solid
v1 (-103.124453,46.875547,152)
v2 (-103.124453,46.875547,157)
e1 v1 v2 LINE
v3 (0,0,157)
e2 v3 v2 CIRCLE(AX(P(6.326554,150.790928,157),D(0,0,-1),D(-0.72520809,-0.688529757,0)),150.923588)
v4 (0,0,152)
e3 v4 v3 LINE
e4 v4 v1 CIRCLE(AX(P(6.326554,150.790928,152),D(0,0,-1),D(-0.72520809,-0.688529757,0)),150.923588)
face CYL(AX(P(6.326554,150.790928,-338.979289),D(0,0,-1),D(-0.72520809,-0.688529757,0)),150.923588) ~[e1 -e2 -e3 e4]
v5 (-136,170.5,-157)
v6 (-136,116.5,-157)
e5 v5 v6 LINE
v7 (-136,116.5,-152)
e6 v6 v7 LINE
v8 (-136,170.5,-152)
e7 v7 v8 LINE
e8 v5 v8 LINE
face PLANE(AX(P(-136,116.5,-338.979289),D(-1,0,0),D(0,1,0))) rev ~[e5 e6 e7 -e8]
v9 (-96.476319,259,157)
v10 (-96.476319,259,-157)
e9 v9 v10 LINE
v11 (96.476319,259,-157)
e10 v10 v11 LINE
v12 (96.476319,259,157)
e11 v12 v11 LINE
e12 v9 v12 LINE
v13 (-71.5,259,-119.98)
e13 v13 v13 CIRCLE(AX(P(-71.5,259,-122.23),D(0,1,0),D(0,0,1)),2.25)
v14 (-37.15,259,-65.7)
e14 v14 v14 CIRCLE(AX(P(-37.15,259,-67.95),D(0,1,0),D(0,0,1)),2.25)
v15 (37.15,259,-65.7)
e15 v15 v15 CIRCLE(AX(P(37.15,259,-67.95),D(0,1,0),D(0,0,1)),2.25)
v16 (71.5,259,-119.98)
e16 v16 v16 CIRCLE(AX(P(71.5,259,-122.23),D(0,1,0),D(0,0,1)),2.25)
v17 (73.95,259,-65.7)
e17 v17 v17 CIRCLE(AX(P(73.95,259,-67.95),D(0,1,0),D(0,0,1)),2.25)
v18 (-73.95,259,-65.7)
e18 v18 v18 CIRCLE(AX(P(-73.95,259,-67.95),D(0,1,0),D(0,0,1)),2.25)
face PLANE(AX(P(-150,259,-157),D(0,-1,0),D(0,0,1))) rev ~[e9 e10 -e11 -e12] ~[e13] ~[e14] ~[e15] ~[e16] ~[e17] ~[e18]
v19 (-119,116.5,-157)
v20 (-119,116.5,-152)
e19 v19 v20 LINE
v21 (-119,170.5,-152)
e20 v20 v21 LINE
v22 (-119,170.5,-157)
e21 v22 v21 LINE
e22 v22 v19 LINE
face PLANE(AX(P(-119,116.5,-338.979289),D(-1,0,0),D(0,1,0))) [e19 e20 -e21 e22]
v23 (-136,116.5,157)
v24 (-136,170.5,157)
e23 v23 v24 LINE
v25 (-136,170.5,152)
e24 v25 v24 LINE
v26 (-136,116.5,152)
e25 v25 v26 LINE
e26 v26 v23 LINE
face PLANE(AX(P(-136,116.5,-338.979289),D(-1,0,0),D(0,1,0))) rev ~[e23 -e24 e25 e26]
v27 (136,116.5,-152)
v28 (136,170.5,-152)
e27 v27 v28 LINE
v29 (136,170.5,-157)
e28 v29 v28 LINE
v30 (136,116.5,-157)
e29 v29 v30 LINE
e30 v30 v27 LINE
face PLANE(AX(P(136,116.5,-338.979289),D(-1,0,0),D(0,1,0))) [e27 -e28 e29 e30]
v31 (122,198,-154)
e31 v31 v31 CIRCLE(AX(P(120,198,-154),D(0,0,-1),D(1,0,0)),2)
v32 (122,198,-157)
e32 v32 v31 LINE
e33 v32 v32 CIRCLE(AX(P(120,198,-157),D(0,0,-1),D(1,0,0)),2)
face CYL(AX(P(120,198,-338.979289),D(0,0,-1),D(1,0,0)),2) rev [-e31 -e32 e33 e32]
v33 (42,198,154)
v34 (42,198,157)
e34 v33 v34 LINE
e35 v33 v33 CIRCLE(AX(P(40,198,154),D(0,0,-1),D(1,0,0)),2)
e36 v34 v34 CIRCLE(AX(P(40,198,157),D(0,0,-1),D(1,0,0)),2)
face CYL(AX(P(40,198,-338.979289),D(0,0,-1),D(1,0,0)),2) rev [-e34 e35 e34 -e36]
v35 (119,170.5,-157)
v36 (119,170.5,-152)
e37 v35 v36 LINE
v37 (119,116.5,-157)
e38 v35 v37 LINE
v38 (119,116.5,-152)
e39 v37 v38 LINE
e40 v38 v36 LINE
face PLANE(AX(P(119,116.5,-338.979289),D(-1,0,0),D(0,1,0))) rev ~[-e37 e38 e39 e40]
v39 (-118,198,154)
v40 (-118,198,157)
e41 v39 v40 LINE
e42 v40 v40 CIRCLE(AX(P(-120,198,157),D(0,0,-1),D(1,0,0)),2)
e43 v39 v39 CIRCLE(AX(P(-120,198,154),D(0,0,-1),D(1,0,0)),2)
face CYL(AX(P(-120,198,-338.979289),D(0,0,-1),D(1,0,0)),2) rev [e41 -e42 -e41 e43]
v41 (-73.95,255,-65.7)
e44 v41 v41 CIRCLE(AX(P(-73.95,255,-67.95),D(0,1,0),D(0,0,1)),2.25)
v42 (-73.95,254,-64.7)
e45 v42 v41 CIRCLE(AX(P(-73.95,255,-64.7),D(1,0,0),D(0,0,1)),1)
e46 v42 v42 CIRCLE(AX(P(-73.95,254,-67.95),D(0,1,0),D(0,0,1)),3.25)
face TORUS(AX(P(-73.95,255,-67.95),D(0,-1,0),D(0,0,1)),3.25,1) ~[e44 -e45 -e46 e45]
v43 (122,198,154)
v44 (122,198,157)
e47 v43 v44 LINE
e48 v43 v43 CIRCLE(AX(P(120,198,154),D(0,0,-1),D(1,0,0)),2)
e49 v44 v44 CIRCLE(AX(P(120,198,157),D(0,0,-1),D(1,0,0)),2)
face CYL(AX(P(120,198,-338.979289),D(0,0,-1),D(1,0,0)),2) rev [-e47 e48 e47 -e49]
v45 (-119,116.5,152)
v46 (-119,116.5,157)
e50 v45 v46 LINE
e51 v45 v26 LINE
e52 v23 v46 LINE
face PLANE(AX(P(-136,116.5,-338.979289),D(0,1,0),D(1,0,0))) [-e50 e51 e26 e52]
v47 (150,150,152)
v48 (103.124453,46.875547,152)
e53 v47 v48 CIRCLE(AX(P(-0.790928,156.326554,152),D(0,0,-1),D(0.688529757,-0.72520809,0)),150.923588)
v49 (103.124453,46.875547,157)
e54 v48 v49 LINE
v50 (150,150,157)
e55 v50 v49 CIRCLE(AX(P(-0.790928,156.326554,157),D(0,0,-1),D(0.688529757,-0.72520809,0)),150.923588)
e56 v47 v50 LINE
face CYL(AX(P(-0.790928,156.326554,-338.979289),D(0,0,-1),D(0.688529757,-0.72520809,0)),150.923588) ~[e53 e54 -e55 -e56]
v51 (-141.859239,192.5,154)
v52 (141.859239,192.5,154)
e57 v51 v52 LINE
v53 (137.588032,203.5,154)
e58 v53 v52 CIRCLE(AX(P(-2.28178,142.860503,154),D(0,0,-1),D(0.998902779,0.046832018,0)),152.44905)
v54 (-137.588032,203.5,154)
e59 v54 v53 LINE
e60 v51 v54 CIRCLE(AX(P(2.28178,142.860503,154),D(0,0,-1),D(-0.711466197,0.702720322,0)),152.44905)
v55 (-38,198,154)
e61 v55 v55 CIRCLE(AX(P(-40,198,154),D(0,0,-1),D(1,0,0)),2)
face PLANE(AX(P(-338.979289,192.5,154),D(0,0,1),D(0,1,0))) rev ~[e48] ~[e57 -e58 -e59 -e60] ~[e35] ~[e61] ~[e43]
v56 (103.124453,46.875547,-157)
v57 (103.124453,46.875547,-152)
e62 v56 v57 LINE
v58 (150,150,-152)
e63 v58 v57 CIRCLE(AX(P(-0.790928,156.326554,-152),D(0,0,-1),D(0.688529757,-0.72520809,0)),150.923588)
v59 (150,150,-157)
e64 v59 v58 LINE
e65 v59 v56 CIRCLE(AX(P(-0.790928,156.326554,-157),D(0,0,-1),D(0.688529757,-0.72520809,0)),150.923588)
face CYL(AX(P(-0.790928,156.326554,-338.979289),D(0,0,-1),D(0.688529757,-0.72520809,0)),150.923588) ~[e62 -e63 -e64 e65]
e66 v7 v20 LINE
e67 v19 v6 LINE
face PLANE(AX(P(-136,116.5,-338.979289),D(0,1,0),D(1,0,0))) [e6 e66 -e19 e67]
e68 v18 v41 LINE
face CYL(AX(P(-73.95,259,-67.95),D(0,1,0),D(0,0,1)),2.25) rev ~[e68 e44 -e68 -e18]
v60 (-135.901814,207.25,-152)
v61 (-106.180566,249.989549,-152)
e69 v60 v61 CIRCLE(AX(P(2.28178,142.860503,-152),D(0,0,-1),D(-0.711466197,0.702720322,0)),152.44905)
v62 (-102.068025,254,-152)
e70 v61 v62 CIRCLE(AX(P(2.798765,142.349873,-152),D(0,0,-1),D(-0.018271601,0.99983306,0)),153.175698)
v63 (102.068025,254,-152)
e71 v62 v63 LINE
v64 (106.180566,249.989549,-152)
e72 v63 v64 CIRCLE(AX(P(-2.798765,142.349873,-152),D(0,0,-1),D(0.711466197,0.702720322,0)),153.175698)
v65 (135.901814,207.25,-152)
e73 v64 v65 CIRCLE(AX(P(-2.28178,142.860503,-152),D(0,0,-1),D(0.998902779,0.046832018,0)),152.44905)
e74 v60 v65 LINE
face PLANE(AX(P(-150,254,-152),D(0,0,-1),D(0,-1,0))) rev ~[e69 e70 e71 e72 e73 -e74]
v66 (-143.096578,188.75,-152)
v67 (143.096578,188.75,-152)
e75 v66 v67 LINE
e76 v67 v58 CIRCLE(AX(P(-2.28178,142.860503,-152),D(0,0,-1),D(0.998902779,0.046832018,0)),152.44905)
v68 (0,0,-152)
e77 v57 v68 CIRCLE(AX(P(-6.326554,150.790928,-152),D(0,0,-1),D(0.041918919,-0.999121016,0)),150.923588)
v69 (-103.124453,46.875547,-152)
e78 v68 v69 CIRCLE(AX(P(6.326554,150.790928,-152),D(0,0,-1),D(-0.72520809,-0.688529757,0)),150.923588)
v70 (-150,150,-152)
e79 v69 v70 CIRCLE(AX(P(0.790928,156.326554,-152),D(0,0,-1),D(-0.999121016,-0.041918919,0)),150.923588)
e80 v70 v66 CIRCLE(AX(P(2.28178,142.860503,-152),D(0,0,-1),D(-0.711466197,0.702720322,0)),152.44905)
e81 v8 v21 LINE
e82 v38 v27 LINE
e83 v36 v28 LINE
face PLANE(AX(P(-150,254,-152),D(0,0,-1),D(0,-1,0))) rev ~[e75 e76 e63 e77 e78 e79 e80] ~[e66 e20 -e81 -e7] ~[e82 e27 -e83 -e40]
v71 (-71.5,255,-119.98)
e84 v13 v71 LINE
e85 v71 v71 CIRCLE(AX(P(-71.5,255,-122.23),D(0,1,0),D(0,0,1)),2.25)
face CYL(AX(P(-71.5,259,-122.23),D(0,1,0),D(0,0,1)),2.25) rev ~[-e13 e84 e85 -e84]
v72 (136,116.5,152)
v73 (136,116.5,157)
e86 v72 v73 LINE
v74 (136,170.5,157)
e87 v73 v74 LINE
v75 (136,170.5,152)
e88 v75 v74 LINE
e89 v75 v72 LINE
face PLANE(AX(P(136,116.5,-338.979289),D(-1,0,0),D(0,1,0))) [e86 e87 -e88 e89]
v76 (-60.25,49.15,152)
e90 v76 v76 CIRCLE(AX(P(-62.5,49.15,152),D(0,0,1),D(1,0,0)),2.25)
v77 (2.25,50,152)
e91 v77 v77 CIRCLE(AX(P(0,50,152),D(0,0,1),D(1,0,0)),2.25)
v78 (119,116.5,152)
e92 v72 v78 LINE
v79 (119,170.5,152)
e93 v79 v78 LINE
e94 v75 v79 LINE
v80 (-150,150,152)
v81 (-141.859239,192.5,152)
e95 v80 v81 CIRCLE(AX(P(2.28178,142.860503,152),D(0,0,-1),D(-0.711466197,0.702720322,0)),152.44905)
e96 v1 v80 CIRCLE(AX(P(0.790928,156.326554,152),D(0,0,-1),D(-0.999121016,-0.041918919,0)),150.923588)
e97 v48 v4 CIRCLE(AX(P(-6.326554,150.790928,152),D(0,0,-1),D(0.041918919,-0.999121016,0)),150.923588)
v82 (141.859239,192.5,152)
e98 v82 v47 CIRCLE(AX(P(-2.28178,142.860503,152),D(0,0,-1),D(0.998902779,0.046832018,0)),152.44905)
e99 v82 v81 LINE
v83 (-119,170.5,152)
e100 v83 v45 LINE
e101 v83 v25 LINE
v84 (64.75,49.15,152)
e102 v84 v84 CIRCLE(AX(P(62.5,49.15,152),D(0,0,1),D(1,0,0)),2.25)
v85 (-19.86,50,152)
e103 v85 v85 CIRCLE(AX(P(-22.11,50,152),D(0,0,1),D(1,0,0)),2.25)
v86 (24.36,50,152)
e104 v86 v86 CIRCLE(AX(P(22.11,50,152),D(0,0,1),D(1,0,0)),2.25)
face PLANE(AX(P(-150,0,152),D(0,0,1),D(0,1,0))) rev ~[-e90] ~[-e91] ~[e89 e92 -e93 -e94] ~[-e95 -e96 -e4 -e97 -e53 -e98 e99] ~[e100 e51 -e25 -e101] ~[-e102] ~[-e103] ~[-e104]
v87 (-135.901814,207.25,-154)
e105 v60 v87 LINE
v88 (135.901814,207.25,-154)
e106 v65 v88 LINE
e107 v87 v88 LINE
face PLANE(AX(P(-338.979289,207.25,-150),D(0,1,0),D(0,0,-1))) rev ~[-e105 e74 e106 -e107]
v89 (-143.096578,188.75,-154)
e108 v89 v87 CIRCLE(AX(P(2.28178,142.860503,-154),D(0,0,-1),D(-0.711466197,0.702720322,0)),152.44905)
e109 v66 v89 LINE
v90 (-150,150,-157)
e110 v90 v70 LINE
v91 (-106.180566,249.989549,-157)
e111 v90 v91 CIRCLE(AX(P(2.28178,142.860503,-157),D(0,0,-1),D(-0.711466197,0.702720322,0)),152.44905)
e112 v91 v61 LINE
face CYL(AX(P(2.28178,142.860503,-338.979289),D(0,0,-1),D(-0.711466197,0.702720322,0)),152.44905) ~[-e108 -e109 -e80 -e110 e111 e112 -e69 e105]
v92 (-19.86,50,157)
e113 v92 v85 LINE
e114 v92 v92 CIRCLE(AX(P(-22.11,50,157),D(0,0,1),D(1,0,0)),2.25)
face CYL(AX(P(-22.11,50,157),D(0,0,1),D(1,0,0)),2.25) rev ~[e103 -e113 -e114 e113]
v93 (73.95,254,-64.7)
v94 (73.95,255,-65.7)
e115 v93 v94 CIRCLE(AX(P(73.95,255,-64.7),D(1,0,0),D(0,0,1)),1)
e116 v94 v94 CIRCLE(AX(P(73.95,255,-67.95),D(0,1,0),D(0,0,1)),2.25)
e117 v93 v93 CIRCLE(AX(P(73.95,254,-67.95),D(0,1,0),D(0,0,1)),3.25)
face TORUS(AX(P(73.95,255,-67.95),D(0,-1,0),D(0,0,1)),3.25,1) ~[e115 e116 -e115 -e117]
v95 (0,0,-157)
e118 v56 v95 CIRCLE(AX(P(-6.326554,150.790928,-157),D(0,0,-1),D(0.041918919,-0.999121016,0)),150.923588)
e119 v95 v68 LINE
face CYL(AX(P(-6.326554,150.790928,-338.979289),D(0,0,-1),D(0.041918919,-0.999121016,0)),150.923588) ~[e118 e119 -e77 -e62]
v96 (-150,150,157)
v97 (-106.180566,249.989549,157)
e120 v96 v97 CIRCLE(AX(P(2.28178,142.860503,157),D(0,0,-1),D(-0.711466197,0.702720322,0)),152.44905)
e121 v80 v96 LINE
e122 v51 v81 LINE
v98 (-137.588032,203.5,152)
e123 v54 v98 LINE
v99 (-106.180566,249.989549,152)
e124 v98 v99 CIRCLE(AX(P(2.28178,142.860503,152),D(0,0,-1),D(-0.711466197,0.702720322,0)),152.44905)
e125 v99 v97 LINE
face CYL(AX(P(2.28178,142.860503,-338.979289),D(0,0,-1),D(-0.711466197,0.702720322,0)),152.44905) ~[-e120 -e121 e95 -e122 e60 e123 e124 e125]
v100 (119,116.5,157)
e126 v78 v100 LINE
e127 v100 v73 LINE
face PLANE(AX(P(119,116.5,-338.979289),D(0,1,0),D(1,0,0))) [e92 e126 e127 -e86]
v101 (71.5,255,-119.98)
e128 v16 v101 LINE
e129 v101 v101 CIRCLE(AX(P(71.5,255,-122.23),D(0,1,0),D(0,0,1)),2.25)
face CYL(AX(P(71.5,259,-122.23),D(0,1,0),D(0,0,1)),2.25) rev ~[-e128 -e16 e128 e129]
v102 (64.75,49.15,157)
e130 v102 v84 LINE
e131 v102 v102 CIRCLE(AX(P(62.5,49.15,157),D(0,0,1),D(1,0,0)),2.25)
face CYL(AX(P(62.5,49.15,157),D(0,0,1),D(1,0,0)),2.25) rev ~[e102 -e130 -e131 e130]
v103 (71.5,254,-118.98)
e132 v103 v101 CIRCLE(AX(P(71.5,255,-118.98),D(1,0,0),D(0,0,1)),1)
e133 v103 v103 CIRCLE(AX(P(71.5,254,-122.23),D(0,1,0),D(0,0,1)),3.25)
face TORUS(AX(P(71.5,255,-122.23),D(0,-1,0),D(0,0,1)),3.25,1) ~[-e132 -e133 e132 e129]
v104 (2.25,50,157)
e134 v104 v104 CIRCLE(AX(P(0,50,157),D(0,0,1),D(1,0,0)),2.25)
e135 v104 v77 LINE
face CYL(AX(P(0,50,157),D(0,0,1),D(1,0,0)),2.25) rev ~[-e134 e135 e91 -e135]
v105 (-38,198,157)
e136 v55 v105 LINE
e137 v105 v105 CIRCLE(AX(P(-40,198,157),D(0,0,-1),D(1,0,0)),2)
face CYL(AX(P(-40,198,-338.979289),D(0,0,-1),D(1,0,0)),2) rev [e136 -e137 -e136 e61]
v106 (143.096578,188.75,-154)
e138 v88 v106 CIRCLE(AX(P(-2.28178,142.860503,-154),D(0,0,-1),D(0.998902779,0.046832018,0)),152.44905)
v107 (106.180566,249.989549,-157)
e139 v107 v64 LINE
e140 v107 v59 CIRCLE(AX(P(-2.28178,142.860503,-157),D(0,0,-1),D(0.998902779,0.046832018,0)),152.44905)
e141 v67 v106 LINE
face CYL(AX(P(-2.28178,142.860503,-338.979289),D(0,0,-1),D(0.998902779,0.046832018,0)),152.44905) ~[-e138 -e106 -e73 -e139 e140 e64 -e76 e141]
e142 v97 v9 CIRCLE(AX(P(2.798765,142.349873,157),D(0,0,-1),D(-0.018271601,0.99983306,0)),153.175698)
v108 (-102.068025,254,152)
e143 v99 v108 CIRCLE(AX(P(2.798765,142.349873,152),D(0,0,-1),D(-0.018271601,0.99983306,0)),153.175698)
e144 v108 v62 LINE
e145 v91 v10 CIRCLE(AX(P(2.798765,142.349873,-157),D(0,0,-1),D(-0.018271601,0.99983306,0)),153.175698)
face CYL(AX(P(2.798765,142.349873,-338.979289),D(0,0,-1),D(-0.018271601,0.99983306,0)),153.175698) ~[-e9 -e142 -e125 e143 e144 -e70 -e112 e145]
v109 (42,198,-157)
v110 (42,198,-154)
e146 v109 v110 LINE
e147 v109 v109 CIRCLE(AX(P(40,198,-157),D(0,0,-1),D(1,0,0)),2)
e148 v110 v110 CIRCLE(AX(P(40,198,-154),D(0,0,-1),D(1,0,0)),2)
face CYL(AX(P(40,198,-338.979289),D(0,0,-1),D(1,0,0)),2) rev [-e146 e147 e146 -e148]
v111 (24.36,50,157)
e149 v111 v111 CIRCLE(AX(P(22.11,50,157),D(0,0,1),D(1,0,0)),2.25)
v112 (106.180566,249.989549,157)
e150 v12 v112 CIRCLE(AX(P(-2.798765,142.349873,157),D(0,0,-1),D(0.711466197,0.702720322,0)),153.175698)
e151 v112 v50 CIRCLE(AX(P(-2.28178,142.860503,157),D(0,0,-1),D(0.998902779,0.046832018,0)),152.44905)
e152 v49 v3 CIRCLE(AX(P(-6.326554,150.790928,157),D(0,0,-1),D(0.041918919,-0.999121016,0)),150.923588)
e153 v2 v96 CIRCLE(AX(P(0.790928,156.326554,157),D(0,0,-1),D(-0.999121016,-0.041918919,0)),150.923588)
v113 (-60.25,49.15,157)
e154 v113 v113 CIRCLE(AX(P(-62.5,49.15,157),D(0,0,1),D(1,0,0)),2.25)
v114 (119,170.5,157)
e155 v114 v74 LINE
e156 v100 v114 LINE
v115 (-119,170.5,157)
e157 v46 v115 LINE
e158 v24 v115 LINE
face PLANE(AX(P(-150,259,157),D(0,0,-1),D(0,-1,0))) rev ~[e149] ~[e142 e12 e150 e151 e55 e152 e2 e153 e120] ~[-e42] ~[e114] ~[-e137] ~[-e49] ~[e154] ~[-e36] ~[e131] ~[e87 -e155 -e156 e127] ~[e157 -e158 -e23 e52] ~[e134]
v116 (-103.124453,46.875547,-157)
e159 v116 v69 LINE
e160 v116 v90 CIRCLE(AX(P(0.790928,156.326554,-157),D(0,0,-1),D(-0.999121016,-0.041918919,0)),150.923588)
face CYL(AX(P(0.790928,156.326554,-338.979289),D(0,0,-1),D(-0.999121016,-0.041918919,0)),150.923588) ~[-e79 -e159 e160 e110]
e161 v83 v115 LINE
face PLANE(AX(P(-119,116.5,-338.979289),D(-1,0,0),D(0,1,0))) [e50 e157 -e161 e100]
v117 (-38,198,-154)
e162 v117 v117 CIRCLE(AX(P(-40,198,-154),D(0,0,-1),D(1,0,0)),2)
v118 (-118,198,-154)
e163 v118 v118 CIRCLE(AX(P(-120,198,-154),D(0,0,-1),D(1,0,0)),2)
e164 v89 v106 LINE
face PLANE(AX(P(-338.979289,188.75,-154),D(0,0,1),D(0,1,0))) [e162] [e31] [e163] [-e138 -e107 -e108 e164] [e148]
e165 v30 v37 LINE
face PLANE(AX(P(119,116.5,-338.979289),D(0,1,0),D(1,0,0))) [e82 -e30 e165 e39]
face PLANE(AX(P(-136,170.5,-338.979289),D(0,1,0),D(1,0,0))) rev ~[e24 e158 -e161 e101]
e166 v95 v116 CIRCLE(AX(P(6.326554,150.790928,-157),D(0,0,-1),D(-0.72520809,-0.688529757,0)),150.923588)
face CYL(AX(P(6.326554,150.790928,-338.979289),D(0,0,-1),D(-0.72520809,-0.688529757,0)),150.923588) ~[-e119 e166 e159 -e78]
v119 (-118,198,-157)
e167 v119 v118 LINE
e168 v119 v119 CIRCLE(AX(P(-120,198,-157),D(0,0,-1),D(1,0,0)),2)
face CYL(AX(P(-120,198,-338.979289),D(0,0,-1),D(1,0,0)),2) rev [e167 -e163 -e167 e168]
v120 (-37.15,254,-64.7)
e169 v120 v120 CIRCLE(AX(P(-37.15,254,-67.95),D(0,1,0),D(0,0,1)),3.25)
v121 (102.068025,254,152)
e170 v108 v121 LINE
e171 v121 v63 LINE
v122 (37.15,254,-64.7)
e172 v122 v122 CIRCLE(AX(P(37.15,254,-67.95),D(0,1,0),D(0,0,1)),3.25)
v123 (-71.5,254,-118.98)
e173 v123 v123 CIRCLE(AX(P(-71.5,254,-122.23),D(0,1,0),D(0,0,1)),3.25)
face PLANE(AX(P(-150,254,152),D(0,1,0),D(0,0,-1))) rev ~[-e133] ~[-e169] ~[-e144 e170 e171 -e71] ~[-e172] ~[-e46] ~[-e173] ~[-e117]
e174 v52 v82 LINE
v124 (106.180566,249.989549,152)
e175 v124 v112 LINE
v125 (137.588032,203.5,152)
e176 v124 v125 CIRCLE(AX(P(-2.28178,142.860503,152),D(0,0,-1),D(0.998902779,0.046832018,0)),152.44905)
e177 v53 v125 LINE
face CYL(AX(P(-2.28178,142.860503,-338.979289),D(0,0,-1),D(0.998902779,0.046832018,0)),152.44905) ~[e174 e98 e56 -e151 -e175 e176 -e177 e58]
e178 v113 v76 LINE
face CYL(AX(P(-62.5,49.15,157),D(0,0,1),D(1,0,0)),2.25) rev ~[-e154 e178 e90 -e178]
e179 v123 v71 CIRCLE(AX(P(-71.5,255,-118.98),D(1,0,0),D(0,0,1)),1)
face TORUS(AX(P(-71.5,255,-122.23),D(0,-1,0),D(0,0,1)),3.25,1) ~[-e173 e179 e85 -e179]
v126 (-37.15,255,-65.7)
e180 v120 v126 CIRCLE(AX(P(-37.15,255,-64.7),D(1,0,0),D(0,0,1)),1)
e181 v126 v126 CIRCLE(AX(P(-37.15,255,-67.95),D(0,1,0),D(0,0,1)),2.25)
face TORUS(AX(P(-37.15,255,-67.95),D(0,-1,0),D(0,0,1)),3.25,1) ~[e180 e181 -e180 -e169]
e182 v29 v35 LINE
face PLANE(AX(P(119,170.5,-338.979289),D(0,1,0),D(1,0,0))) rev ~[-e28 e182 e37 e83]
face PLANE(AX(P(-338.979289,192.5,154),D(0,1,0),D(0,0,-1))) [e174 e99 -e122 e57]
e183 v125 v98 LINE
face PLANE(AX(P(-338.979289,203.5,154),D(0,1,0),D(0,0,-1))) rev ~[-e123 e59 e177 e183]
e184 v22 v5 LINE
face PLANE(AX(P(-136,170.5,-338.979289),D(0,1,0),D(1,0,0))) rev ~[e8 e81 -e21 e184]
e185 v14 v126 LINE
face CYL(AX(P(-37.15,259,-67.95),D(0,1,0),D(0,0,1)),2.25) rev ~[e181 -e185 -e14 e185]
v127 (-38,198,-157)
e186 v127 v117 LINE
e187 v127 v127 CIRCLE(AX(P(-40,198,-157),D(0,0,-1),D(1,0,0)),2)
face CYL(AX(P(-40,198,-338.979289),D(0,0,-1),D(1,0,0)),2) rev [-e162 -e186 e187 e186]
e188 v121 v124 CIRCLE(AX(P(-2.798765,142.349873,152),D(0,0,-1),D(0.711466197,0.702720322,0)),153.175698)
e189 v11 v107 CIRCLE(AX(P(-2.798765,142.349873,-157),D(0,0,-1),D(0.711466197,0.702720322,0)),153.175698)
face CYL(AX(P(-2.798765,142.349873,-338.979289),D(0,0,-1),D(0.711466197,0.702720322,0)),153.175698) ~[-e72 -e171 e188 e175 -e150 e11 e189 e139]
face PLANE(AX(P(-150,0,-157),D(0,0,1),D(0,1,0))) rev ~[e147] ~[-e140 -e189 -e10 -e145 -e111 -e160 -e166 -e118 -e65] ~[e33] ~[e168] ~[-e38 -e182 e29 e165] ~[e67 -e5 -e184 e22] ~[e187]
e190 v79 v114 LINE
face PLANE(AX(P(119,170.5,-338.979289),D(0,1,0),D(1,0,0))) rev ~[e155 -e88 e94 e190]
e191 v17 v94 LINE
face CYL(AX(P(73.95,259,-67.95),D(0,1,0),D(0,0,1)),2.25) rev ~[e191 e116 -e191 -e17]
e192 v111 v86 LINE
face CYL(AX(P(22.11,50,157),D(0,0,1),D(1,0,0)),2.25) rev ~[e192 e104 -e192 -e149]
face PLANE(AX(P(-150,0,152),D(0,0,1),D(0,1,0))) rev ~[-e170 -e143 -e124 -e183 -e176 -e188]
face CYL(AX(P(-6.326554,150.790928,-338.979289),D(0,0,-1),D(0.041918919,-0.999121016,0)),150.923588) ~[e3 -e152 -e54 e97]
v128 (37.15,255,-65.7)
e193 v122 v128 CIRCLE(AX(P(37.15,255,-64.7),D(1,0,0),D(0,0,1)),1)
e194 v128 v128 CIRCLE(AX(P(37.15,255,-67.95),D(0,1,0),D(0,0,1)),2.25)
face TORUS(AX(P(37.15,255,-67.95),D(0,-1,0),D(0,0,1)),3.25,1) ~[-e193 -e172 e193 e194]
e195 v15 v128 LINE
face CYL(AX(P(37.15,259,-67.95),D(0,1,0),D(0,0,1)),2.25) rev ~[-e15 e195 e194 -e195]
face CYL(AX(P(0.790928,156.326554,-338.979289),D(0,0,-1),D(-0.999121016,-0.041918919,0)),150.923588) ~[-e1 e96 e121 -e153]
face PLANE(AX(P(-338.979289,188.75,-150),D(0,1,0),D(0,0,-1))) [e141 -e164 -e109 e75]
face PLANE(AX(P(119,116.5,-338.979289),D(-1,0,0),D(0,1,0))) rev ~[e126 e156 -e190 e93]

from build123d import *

# Parameters (mm, degrees)
BOSS_EXTRUDE1_DEPTH      = 150
BOSS_EXTRUDE1_DEPTH_BACK = 150
CUT_EXTRUDE1_DEPTH       = 338.979289306
CUT_EXTRUDE1_DEPTH_BACK  = 338.979289306
SKETCH2_OUTSIDE_W        = 403.13
SKETCH2_OUTSIDE_H        = 362.13
CUT_EXTRUDE2_DEPTH       = 338.979289306
CUT_EXTRUDE2_DEPTH_BACK  = 338.979289306
SKETCH3_W                = 4
SKETCH3_H                = 11
SKETCH3_H_2              = 18.5
CUT_EXTRUDE3_DEPTH       = 338.979289306
CUT_EXTRUDE3_DEPTH_BACK  = 338.979289306
SKETCH4_R                = 2
CUT_EXTRUDE4_DEPTH       = 338.979289306
CUT_EXTRUDE4_DEPTH_BACK  = 338.979289306
SKETCH6_W                = 17
SKETCH6_H                = 54
CUT_EXTRUDE5_REACH       = 435.794
SKETCH7_R                = 2.25
CUT_EXTRUDE6_REACH       = 339.979
SKETCH8_R                = 2.25
FILLET1_R                = 1


with BuildPart() as part:
    # Sketch1 → Boss-Extrude1 (new, two sides: drawn at the far end of the back side and taken through both)
    with BuildSketch(Plane(origin=(0, 0, 0), x_dir=(0, 0, -1), z_dir=(1, 0, 0)).offset(-BOSS_EXTRUDE1_DEPTH_BACK)):
        Polygon((-152, 0), (-152, 254), (152, 254), (152, 0), (157, 0), (157, 259), (-157, 259), (-157, 0), align=None)
    extrude(amount=BOSS_EXTRUDE1_DEPTH + BOSS_EXTRUDE1_DEPTH_BACK)

    # Sketch2 outside → Cut-Extrude1 (cut, two sides: drawn at the far end of the back side and taken through both)
    with BuildSketch(Plane.XY.offset(-CUT_EXTRUDE1_DEPTH_BACK)):
        with Locations((0, 129.5)):
            Rectangle(SKETCH2_OUTSIDE_W, SKETCH2_OUTSIDE_H)
        with BuildLine():
            ThreePointArc((-106.180566109, 249.989548857), (-57.545132629, 283.138396945), (0, 295.5))
            ThreePointArc((0, 295.5), (57.545132629, 283.138396945), (106.180566109, 249.989548857))
            ThreePointArc((106.180566109, 249.989548857), (137.347558964, 204.051684319), (150, 150))
            ThreePointArc((150, 150), (136.604447301, 93.873050207), (103.124452968, 46.875547032))
            ThreePointArc((103.124452968, 46.875547032), (56.126949793, 13.395552699), (0, 0))
            ThreePointArc((0, 0), (-56.126949793, 13.395552699), (-103.124452968, 46.875547032))
            ThreePointArc((-103.124452968, 46.875547032), (-136.604447301, 93.873050207), (-150, 150))
            ThreePointArc((-150, 150), (-137.347558964, 204.051684319), (-106.180566109, 249.989548857))
        make_face(mode=Mode.SUBTRACT)
    extrude(amount=CUT_EXTRUDE1_DEPTH + CUT_EXTRUDE1_DEPTH_BACK, mode=Mode.SUBTRACT)

    # Sketch3 → Cut-Extrude2 (cut, two sides: drawn at the far end of the back side and taken through both)
    with BuildSketch(Plane(origin=(0, 0, 0), x_dir=(0, 0, -1), z_dir=(1, 0, 0)).offset(-CUT_EXTRUDE2_DEPTH_BACK)):
        with Locations((-152, 198)):
            Rectangle(SKETCH3_W, SKETCH3_H)
        with Locations((152, 198)):
            Rectangle(SKETCH3_W, SKETCH3_H_2)
    extrude(amount=CUT_EXTRUDE2_DEPTH + CUT_EXTRUDE2_DEPTH_BACK, mode=Mode.SUBTRACT)

    # Sketch4 → Cut-Extrude3 (cut, two sides: drawn at the far end of the back side and taken through both)
    with BuildSketch(Plane.XY.offset(-CUT_EXTRUDE3_DEPTH_BACK)):
        with Locations((-120, 198)):
            Circle(SKETCH4_R)
        with Locations((120, 198)):
            Circle(SKETCH4_R)
        with Locations((40, 198)):
            Circle(SKETCH4_R)
        with Locations((-40, 198)):
            Circle(SKETCH4_R)
    extrude(amount=CUT_EXTRUDE3_DEPTH + CUT_EXTRUDE3_DEPTH_BACK, mode=Mode.SUBTRACT)

    # Sketch6 → Cut-Extrude4 (cut, two sides: drawn at the far end of the back side and taken through both)
    with BuildSketch(Plane.XY.offset(-CUT_EXTRUDE4_DEPTH_BACK)):
        with Locations((-127.5, 143.5)):
            Rectangle(SKETCH6_W, SKETCH6_H)
        with Locations((127.5, 143.5)):
            Rectangle(SKETCH6_W, SKETCH6_H)
    extrude(amount=CUT_EXTRUDE4_DEPTH + CUT_EXTRUDE4_DEPTH_BACK, mode=Mode.SUBTRACT)

    # Sketch7 → Cut-Extrude5 (cut, up to next)
    with BuildSketch(Plane.XY.offset(157), mode=Mode.PRIVATE) as cut_extrude5_sk1:
        with Locations((0, 50)):
            Circle(SKETCH7_R)
    cut_extrude5_tool1 = extrude(cut_extrude5_sk1.sketch, amount=-CUT_EXTRUDE5_REACH, mode=Mode.PRIVATE) & part.part
    # Sketch7 → Cut-Extrude5 (cut, up to next)
    with BuildSketch(Plane.XY.offset(157), mode=Mode.PRIVATE) as cut_extrude5_sk2:
        with Locations((22.11, 50)):
            Circle(SKETCH7_R)
    cut_extrude5_tool2 = extrude(cut_extrude5_sk2.sketch, amount=-CUT_EXTRUDE5_REACH, mode=Mode.PRIVATE) & part.part
    # Sketch7 → Cut-Extrude5 (cut, up to next)
    with BuildSketch(Plane.XY.offset(157), mode=Mode.PRIVATE) as cut_extrude5_sk3:
        with Locations((-22.11, 50)):
            Circle(SKETCH7_R)
    cut_extrude5_tool3 = extrude(cut_extrude5_sk3.sketch, amount=-CUT_EXTRUDE5_REACH, mode=Mode.PRIVATE) & part.part
    # Sketch7 → Cut-Extrude5 (cut, up to next)
    with BuildSketch(Plane.XY.offset(157), mode=Mode.PRIVATE) as cut_extrude5_sk4:
        with Locations((-62.5, 49.15)):
            Circle(SKETCH7_R)
    cut_extrude5_tool4 = extrude(cut_extrude5_sk4.sketch, amount=-CUT_EXTRUDE5_REACH, mode=Mode.PRIVATE) & part.part
    # Sketch7 → Cut-Extrude5 (cut, up to next)
    with BuildSketch(Plane.XY.offset(157), mode=Mode.PRIVATE) as cut_extrude5_sk5:
        with Locations((62.5, 49.15)):
            Circle(SKETCH7_R)
    cut_extrude5_tool5 = extrude(cut_extrude5_sk5.sketch, amount=-CUT_EXTRUDE5_REACH, mode=Mode.PRIVATE) & part.part
    add(cut_extrude5_tool1.solids().sort_by_distance((0, 50, 157))[0], mode=Mode.SUBTRACT)
    add(cut_extrude5_tool2.solids().sort_by_distance((22.11, 50, 157))[0], mode=Mode.SUBTRACT)
    add(cut_extrude5_tool3.solids().sort_by_distance((-22.11, 50, 157))[0], mode=Mode.SUBTRACT)
    add(cut_extrude5_tool4.solids().sort_by_distance((-62.5, 49.15, 157))[0], mode=Mode.SUBTRACT)
    add(cut_extrude5_tool5.solids().sort_by_distance((62.5, 49.15, 157))[0], mode=Mode.SUBTRACT)

    # Sketch8 → Cut-Extrude6 (cut, up to next)
    with BuildSketch(Plane(origin=(0, 259, 0), x_dir=(1, 0, 0), z_dir=(0, 1, 0)), mode=Mode.PRIVATE) as cut_extrude6_sk1:
        with Locations((-73.95, 67.95)):
            Circle(SKETCH8_R)
    cut_extrude6_tool1 = extrude(cut_extrude6_sk1.sketch, amount=-CUT_EXTRUDE6_REACH, mode=Mode.PRIVATE) & part.part
    # Sketch8 → Cut-Extrude6 (cut, up to next)
    with BuildSketch(Plane(origin=(0, 259, 0), x_dir=(1, 0, 0), z_dir=(0, 1, 0)), mode=Mode.PRIVATE) as cut_extrude6_sk2:
        with Locations((73.95, 67.95)):
            Circle(SKETCH8_R)
    cut_extrude6_tool2 = extrude(cut_extrude6_sk2.sketch, amount=-CUT_EXTRUDE6_REACH, mode=Mode.PRIVATE) & part.part
    # Sketch8 → Cut-Extrude6 (cut, up to next)
    with BuildSketch(Plane(origin=(0, 259, 0), x_dir=(1, 0, 0), z_dir=(0, 1, 0)), mode=Mode.PRIVATE) as cut_extrude6_sk3:
        with Locations((37.15, 67.95)):
            Circle(SKETCH8_R)
    cut_extrude6_tool3 = extrude(cut_extrude6_sk3.sketch, amount=-CUT_EXTRUDE6_REACH, mode=Mode.PRIVATE) & part.part
    # Sketch8 → Cut-Extrude6 (cut, up to next)
    with BuildSketch(Plane(origin=(0, 259, 0), x_dir=(1, 0, 0), z_dir=(0, 1, 0)), mode=Mode.PRIVATE) as cut_extrude6_sk4:
        with Locations((-37.15, 67.95)):
            Circle(SKETCH8_R)
    cut_extrude6_tool4 = extrude(cut_extrude6_sk4.sketch, amount=-CUT_EXTRUDE6_REACH, mode=Mode.PRIVATE) & part.part
    # Sketch8 → Cut-Extrude6 (cut, up to next)
    with BuildSketch(Plane(origin=(0, 259, 0), x_dir=(1, 0, 0), z_dir=(0, 1, 0)), mode=Mode.PRIVATE) as cut_extrude6_sk5:
        with Locations((-71.5, 122.23)):
            Circle(SKETCH8_R)
    cut_extrude6_tool5 = extrude(cut_extrude6_sk5.sketch, amount=-CUT_EXTRUDE6_REACH, mode=Mode.PRIVATE) & part.part
    # Sketch8 → Cut-Extrude6 (cut, up to next)
    with BuildSketch(Plane(origin=(0, 259, 0), x_dir=(1, 0, 0), z_dir=(0, 1, 0)), mode=Mode.PRIVATE) as cut_extrude6_sk6:
        with Locations((71.5, 122.23)):
            Circle(SKETCH8_R)
    cut_extrude6_tool6 = extrude(cut_extrude6_sk6.sketch, amount=-CUT_EXTRUDE6_REACH, mode=Mode.PRIVATE) & part.part
    add(cut_extrude6_tool1.solids().sort_by_distance((-73.95, 259, -67.95))[0], mode=Mode.SUBTRACT)
    add(cut_extrude6_tool2.solids().sort_by_distance((73.95, 259, -67.95))[0], mode=Mode.SUBTRACT)
    add(cut_extrude6_tool3.solids().sort_by_distance((37.15, 259, -67.95))[0], mode=Mode.SUBTRACT)
    add(cut_extrude6_tool4.solids().sort_by_distance((-37.15, 259, -67.95))[0], mode=Mode.SUBTRACT)
    add(cut_extrude6_tool5.solids().sort_by_distance((-71.5, 259, -122.23))[0], mode=Mode.SUBTRACT)
    add(cut_extrude6_tool6.solids().sort_by_distance((71.5, 259, -122.23))[0], mode=Mode.SUBTRACT)

    # Fillet1
    fillet1_edges = [part.edges().sort_by_distance(p)[0] for p in [
        (-73.75, 254, -122.23),
        (-76.2, 254, -67.95),
        (-39.4, 254, -67.95),
        (34.9, 254, -67.95),
        (71.7, 254, -67.95),
        (69.25, 254, -122.23),
    ]]
    fillet(fillet1_edges, radius=FILLET1_R)


solid = part.part
